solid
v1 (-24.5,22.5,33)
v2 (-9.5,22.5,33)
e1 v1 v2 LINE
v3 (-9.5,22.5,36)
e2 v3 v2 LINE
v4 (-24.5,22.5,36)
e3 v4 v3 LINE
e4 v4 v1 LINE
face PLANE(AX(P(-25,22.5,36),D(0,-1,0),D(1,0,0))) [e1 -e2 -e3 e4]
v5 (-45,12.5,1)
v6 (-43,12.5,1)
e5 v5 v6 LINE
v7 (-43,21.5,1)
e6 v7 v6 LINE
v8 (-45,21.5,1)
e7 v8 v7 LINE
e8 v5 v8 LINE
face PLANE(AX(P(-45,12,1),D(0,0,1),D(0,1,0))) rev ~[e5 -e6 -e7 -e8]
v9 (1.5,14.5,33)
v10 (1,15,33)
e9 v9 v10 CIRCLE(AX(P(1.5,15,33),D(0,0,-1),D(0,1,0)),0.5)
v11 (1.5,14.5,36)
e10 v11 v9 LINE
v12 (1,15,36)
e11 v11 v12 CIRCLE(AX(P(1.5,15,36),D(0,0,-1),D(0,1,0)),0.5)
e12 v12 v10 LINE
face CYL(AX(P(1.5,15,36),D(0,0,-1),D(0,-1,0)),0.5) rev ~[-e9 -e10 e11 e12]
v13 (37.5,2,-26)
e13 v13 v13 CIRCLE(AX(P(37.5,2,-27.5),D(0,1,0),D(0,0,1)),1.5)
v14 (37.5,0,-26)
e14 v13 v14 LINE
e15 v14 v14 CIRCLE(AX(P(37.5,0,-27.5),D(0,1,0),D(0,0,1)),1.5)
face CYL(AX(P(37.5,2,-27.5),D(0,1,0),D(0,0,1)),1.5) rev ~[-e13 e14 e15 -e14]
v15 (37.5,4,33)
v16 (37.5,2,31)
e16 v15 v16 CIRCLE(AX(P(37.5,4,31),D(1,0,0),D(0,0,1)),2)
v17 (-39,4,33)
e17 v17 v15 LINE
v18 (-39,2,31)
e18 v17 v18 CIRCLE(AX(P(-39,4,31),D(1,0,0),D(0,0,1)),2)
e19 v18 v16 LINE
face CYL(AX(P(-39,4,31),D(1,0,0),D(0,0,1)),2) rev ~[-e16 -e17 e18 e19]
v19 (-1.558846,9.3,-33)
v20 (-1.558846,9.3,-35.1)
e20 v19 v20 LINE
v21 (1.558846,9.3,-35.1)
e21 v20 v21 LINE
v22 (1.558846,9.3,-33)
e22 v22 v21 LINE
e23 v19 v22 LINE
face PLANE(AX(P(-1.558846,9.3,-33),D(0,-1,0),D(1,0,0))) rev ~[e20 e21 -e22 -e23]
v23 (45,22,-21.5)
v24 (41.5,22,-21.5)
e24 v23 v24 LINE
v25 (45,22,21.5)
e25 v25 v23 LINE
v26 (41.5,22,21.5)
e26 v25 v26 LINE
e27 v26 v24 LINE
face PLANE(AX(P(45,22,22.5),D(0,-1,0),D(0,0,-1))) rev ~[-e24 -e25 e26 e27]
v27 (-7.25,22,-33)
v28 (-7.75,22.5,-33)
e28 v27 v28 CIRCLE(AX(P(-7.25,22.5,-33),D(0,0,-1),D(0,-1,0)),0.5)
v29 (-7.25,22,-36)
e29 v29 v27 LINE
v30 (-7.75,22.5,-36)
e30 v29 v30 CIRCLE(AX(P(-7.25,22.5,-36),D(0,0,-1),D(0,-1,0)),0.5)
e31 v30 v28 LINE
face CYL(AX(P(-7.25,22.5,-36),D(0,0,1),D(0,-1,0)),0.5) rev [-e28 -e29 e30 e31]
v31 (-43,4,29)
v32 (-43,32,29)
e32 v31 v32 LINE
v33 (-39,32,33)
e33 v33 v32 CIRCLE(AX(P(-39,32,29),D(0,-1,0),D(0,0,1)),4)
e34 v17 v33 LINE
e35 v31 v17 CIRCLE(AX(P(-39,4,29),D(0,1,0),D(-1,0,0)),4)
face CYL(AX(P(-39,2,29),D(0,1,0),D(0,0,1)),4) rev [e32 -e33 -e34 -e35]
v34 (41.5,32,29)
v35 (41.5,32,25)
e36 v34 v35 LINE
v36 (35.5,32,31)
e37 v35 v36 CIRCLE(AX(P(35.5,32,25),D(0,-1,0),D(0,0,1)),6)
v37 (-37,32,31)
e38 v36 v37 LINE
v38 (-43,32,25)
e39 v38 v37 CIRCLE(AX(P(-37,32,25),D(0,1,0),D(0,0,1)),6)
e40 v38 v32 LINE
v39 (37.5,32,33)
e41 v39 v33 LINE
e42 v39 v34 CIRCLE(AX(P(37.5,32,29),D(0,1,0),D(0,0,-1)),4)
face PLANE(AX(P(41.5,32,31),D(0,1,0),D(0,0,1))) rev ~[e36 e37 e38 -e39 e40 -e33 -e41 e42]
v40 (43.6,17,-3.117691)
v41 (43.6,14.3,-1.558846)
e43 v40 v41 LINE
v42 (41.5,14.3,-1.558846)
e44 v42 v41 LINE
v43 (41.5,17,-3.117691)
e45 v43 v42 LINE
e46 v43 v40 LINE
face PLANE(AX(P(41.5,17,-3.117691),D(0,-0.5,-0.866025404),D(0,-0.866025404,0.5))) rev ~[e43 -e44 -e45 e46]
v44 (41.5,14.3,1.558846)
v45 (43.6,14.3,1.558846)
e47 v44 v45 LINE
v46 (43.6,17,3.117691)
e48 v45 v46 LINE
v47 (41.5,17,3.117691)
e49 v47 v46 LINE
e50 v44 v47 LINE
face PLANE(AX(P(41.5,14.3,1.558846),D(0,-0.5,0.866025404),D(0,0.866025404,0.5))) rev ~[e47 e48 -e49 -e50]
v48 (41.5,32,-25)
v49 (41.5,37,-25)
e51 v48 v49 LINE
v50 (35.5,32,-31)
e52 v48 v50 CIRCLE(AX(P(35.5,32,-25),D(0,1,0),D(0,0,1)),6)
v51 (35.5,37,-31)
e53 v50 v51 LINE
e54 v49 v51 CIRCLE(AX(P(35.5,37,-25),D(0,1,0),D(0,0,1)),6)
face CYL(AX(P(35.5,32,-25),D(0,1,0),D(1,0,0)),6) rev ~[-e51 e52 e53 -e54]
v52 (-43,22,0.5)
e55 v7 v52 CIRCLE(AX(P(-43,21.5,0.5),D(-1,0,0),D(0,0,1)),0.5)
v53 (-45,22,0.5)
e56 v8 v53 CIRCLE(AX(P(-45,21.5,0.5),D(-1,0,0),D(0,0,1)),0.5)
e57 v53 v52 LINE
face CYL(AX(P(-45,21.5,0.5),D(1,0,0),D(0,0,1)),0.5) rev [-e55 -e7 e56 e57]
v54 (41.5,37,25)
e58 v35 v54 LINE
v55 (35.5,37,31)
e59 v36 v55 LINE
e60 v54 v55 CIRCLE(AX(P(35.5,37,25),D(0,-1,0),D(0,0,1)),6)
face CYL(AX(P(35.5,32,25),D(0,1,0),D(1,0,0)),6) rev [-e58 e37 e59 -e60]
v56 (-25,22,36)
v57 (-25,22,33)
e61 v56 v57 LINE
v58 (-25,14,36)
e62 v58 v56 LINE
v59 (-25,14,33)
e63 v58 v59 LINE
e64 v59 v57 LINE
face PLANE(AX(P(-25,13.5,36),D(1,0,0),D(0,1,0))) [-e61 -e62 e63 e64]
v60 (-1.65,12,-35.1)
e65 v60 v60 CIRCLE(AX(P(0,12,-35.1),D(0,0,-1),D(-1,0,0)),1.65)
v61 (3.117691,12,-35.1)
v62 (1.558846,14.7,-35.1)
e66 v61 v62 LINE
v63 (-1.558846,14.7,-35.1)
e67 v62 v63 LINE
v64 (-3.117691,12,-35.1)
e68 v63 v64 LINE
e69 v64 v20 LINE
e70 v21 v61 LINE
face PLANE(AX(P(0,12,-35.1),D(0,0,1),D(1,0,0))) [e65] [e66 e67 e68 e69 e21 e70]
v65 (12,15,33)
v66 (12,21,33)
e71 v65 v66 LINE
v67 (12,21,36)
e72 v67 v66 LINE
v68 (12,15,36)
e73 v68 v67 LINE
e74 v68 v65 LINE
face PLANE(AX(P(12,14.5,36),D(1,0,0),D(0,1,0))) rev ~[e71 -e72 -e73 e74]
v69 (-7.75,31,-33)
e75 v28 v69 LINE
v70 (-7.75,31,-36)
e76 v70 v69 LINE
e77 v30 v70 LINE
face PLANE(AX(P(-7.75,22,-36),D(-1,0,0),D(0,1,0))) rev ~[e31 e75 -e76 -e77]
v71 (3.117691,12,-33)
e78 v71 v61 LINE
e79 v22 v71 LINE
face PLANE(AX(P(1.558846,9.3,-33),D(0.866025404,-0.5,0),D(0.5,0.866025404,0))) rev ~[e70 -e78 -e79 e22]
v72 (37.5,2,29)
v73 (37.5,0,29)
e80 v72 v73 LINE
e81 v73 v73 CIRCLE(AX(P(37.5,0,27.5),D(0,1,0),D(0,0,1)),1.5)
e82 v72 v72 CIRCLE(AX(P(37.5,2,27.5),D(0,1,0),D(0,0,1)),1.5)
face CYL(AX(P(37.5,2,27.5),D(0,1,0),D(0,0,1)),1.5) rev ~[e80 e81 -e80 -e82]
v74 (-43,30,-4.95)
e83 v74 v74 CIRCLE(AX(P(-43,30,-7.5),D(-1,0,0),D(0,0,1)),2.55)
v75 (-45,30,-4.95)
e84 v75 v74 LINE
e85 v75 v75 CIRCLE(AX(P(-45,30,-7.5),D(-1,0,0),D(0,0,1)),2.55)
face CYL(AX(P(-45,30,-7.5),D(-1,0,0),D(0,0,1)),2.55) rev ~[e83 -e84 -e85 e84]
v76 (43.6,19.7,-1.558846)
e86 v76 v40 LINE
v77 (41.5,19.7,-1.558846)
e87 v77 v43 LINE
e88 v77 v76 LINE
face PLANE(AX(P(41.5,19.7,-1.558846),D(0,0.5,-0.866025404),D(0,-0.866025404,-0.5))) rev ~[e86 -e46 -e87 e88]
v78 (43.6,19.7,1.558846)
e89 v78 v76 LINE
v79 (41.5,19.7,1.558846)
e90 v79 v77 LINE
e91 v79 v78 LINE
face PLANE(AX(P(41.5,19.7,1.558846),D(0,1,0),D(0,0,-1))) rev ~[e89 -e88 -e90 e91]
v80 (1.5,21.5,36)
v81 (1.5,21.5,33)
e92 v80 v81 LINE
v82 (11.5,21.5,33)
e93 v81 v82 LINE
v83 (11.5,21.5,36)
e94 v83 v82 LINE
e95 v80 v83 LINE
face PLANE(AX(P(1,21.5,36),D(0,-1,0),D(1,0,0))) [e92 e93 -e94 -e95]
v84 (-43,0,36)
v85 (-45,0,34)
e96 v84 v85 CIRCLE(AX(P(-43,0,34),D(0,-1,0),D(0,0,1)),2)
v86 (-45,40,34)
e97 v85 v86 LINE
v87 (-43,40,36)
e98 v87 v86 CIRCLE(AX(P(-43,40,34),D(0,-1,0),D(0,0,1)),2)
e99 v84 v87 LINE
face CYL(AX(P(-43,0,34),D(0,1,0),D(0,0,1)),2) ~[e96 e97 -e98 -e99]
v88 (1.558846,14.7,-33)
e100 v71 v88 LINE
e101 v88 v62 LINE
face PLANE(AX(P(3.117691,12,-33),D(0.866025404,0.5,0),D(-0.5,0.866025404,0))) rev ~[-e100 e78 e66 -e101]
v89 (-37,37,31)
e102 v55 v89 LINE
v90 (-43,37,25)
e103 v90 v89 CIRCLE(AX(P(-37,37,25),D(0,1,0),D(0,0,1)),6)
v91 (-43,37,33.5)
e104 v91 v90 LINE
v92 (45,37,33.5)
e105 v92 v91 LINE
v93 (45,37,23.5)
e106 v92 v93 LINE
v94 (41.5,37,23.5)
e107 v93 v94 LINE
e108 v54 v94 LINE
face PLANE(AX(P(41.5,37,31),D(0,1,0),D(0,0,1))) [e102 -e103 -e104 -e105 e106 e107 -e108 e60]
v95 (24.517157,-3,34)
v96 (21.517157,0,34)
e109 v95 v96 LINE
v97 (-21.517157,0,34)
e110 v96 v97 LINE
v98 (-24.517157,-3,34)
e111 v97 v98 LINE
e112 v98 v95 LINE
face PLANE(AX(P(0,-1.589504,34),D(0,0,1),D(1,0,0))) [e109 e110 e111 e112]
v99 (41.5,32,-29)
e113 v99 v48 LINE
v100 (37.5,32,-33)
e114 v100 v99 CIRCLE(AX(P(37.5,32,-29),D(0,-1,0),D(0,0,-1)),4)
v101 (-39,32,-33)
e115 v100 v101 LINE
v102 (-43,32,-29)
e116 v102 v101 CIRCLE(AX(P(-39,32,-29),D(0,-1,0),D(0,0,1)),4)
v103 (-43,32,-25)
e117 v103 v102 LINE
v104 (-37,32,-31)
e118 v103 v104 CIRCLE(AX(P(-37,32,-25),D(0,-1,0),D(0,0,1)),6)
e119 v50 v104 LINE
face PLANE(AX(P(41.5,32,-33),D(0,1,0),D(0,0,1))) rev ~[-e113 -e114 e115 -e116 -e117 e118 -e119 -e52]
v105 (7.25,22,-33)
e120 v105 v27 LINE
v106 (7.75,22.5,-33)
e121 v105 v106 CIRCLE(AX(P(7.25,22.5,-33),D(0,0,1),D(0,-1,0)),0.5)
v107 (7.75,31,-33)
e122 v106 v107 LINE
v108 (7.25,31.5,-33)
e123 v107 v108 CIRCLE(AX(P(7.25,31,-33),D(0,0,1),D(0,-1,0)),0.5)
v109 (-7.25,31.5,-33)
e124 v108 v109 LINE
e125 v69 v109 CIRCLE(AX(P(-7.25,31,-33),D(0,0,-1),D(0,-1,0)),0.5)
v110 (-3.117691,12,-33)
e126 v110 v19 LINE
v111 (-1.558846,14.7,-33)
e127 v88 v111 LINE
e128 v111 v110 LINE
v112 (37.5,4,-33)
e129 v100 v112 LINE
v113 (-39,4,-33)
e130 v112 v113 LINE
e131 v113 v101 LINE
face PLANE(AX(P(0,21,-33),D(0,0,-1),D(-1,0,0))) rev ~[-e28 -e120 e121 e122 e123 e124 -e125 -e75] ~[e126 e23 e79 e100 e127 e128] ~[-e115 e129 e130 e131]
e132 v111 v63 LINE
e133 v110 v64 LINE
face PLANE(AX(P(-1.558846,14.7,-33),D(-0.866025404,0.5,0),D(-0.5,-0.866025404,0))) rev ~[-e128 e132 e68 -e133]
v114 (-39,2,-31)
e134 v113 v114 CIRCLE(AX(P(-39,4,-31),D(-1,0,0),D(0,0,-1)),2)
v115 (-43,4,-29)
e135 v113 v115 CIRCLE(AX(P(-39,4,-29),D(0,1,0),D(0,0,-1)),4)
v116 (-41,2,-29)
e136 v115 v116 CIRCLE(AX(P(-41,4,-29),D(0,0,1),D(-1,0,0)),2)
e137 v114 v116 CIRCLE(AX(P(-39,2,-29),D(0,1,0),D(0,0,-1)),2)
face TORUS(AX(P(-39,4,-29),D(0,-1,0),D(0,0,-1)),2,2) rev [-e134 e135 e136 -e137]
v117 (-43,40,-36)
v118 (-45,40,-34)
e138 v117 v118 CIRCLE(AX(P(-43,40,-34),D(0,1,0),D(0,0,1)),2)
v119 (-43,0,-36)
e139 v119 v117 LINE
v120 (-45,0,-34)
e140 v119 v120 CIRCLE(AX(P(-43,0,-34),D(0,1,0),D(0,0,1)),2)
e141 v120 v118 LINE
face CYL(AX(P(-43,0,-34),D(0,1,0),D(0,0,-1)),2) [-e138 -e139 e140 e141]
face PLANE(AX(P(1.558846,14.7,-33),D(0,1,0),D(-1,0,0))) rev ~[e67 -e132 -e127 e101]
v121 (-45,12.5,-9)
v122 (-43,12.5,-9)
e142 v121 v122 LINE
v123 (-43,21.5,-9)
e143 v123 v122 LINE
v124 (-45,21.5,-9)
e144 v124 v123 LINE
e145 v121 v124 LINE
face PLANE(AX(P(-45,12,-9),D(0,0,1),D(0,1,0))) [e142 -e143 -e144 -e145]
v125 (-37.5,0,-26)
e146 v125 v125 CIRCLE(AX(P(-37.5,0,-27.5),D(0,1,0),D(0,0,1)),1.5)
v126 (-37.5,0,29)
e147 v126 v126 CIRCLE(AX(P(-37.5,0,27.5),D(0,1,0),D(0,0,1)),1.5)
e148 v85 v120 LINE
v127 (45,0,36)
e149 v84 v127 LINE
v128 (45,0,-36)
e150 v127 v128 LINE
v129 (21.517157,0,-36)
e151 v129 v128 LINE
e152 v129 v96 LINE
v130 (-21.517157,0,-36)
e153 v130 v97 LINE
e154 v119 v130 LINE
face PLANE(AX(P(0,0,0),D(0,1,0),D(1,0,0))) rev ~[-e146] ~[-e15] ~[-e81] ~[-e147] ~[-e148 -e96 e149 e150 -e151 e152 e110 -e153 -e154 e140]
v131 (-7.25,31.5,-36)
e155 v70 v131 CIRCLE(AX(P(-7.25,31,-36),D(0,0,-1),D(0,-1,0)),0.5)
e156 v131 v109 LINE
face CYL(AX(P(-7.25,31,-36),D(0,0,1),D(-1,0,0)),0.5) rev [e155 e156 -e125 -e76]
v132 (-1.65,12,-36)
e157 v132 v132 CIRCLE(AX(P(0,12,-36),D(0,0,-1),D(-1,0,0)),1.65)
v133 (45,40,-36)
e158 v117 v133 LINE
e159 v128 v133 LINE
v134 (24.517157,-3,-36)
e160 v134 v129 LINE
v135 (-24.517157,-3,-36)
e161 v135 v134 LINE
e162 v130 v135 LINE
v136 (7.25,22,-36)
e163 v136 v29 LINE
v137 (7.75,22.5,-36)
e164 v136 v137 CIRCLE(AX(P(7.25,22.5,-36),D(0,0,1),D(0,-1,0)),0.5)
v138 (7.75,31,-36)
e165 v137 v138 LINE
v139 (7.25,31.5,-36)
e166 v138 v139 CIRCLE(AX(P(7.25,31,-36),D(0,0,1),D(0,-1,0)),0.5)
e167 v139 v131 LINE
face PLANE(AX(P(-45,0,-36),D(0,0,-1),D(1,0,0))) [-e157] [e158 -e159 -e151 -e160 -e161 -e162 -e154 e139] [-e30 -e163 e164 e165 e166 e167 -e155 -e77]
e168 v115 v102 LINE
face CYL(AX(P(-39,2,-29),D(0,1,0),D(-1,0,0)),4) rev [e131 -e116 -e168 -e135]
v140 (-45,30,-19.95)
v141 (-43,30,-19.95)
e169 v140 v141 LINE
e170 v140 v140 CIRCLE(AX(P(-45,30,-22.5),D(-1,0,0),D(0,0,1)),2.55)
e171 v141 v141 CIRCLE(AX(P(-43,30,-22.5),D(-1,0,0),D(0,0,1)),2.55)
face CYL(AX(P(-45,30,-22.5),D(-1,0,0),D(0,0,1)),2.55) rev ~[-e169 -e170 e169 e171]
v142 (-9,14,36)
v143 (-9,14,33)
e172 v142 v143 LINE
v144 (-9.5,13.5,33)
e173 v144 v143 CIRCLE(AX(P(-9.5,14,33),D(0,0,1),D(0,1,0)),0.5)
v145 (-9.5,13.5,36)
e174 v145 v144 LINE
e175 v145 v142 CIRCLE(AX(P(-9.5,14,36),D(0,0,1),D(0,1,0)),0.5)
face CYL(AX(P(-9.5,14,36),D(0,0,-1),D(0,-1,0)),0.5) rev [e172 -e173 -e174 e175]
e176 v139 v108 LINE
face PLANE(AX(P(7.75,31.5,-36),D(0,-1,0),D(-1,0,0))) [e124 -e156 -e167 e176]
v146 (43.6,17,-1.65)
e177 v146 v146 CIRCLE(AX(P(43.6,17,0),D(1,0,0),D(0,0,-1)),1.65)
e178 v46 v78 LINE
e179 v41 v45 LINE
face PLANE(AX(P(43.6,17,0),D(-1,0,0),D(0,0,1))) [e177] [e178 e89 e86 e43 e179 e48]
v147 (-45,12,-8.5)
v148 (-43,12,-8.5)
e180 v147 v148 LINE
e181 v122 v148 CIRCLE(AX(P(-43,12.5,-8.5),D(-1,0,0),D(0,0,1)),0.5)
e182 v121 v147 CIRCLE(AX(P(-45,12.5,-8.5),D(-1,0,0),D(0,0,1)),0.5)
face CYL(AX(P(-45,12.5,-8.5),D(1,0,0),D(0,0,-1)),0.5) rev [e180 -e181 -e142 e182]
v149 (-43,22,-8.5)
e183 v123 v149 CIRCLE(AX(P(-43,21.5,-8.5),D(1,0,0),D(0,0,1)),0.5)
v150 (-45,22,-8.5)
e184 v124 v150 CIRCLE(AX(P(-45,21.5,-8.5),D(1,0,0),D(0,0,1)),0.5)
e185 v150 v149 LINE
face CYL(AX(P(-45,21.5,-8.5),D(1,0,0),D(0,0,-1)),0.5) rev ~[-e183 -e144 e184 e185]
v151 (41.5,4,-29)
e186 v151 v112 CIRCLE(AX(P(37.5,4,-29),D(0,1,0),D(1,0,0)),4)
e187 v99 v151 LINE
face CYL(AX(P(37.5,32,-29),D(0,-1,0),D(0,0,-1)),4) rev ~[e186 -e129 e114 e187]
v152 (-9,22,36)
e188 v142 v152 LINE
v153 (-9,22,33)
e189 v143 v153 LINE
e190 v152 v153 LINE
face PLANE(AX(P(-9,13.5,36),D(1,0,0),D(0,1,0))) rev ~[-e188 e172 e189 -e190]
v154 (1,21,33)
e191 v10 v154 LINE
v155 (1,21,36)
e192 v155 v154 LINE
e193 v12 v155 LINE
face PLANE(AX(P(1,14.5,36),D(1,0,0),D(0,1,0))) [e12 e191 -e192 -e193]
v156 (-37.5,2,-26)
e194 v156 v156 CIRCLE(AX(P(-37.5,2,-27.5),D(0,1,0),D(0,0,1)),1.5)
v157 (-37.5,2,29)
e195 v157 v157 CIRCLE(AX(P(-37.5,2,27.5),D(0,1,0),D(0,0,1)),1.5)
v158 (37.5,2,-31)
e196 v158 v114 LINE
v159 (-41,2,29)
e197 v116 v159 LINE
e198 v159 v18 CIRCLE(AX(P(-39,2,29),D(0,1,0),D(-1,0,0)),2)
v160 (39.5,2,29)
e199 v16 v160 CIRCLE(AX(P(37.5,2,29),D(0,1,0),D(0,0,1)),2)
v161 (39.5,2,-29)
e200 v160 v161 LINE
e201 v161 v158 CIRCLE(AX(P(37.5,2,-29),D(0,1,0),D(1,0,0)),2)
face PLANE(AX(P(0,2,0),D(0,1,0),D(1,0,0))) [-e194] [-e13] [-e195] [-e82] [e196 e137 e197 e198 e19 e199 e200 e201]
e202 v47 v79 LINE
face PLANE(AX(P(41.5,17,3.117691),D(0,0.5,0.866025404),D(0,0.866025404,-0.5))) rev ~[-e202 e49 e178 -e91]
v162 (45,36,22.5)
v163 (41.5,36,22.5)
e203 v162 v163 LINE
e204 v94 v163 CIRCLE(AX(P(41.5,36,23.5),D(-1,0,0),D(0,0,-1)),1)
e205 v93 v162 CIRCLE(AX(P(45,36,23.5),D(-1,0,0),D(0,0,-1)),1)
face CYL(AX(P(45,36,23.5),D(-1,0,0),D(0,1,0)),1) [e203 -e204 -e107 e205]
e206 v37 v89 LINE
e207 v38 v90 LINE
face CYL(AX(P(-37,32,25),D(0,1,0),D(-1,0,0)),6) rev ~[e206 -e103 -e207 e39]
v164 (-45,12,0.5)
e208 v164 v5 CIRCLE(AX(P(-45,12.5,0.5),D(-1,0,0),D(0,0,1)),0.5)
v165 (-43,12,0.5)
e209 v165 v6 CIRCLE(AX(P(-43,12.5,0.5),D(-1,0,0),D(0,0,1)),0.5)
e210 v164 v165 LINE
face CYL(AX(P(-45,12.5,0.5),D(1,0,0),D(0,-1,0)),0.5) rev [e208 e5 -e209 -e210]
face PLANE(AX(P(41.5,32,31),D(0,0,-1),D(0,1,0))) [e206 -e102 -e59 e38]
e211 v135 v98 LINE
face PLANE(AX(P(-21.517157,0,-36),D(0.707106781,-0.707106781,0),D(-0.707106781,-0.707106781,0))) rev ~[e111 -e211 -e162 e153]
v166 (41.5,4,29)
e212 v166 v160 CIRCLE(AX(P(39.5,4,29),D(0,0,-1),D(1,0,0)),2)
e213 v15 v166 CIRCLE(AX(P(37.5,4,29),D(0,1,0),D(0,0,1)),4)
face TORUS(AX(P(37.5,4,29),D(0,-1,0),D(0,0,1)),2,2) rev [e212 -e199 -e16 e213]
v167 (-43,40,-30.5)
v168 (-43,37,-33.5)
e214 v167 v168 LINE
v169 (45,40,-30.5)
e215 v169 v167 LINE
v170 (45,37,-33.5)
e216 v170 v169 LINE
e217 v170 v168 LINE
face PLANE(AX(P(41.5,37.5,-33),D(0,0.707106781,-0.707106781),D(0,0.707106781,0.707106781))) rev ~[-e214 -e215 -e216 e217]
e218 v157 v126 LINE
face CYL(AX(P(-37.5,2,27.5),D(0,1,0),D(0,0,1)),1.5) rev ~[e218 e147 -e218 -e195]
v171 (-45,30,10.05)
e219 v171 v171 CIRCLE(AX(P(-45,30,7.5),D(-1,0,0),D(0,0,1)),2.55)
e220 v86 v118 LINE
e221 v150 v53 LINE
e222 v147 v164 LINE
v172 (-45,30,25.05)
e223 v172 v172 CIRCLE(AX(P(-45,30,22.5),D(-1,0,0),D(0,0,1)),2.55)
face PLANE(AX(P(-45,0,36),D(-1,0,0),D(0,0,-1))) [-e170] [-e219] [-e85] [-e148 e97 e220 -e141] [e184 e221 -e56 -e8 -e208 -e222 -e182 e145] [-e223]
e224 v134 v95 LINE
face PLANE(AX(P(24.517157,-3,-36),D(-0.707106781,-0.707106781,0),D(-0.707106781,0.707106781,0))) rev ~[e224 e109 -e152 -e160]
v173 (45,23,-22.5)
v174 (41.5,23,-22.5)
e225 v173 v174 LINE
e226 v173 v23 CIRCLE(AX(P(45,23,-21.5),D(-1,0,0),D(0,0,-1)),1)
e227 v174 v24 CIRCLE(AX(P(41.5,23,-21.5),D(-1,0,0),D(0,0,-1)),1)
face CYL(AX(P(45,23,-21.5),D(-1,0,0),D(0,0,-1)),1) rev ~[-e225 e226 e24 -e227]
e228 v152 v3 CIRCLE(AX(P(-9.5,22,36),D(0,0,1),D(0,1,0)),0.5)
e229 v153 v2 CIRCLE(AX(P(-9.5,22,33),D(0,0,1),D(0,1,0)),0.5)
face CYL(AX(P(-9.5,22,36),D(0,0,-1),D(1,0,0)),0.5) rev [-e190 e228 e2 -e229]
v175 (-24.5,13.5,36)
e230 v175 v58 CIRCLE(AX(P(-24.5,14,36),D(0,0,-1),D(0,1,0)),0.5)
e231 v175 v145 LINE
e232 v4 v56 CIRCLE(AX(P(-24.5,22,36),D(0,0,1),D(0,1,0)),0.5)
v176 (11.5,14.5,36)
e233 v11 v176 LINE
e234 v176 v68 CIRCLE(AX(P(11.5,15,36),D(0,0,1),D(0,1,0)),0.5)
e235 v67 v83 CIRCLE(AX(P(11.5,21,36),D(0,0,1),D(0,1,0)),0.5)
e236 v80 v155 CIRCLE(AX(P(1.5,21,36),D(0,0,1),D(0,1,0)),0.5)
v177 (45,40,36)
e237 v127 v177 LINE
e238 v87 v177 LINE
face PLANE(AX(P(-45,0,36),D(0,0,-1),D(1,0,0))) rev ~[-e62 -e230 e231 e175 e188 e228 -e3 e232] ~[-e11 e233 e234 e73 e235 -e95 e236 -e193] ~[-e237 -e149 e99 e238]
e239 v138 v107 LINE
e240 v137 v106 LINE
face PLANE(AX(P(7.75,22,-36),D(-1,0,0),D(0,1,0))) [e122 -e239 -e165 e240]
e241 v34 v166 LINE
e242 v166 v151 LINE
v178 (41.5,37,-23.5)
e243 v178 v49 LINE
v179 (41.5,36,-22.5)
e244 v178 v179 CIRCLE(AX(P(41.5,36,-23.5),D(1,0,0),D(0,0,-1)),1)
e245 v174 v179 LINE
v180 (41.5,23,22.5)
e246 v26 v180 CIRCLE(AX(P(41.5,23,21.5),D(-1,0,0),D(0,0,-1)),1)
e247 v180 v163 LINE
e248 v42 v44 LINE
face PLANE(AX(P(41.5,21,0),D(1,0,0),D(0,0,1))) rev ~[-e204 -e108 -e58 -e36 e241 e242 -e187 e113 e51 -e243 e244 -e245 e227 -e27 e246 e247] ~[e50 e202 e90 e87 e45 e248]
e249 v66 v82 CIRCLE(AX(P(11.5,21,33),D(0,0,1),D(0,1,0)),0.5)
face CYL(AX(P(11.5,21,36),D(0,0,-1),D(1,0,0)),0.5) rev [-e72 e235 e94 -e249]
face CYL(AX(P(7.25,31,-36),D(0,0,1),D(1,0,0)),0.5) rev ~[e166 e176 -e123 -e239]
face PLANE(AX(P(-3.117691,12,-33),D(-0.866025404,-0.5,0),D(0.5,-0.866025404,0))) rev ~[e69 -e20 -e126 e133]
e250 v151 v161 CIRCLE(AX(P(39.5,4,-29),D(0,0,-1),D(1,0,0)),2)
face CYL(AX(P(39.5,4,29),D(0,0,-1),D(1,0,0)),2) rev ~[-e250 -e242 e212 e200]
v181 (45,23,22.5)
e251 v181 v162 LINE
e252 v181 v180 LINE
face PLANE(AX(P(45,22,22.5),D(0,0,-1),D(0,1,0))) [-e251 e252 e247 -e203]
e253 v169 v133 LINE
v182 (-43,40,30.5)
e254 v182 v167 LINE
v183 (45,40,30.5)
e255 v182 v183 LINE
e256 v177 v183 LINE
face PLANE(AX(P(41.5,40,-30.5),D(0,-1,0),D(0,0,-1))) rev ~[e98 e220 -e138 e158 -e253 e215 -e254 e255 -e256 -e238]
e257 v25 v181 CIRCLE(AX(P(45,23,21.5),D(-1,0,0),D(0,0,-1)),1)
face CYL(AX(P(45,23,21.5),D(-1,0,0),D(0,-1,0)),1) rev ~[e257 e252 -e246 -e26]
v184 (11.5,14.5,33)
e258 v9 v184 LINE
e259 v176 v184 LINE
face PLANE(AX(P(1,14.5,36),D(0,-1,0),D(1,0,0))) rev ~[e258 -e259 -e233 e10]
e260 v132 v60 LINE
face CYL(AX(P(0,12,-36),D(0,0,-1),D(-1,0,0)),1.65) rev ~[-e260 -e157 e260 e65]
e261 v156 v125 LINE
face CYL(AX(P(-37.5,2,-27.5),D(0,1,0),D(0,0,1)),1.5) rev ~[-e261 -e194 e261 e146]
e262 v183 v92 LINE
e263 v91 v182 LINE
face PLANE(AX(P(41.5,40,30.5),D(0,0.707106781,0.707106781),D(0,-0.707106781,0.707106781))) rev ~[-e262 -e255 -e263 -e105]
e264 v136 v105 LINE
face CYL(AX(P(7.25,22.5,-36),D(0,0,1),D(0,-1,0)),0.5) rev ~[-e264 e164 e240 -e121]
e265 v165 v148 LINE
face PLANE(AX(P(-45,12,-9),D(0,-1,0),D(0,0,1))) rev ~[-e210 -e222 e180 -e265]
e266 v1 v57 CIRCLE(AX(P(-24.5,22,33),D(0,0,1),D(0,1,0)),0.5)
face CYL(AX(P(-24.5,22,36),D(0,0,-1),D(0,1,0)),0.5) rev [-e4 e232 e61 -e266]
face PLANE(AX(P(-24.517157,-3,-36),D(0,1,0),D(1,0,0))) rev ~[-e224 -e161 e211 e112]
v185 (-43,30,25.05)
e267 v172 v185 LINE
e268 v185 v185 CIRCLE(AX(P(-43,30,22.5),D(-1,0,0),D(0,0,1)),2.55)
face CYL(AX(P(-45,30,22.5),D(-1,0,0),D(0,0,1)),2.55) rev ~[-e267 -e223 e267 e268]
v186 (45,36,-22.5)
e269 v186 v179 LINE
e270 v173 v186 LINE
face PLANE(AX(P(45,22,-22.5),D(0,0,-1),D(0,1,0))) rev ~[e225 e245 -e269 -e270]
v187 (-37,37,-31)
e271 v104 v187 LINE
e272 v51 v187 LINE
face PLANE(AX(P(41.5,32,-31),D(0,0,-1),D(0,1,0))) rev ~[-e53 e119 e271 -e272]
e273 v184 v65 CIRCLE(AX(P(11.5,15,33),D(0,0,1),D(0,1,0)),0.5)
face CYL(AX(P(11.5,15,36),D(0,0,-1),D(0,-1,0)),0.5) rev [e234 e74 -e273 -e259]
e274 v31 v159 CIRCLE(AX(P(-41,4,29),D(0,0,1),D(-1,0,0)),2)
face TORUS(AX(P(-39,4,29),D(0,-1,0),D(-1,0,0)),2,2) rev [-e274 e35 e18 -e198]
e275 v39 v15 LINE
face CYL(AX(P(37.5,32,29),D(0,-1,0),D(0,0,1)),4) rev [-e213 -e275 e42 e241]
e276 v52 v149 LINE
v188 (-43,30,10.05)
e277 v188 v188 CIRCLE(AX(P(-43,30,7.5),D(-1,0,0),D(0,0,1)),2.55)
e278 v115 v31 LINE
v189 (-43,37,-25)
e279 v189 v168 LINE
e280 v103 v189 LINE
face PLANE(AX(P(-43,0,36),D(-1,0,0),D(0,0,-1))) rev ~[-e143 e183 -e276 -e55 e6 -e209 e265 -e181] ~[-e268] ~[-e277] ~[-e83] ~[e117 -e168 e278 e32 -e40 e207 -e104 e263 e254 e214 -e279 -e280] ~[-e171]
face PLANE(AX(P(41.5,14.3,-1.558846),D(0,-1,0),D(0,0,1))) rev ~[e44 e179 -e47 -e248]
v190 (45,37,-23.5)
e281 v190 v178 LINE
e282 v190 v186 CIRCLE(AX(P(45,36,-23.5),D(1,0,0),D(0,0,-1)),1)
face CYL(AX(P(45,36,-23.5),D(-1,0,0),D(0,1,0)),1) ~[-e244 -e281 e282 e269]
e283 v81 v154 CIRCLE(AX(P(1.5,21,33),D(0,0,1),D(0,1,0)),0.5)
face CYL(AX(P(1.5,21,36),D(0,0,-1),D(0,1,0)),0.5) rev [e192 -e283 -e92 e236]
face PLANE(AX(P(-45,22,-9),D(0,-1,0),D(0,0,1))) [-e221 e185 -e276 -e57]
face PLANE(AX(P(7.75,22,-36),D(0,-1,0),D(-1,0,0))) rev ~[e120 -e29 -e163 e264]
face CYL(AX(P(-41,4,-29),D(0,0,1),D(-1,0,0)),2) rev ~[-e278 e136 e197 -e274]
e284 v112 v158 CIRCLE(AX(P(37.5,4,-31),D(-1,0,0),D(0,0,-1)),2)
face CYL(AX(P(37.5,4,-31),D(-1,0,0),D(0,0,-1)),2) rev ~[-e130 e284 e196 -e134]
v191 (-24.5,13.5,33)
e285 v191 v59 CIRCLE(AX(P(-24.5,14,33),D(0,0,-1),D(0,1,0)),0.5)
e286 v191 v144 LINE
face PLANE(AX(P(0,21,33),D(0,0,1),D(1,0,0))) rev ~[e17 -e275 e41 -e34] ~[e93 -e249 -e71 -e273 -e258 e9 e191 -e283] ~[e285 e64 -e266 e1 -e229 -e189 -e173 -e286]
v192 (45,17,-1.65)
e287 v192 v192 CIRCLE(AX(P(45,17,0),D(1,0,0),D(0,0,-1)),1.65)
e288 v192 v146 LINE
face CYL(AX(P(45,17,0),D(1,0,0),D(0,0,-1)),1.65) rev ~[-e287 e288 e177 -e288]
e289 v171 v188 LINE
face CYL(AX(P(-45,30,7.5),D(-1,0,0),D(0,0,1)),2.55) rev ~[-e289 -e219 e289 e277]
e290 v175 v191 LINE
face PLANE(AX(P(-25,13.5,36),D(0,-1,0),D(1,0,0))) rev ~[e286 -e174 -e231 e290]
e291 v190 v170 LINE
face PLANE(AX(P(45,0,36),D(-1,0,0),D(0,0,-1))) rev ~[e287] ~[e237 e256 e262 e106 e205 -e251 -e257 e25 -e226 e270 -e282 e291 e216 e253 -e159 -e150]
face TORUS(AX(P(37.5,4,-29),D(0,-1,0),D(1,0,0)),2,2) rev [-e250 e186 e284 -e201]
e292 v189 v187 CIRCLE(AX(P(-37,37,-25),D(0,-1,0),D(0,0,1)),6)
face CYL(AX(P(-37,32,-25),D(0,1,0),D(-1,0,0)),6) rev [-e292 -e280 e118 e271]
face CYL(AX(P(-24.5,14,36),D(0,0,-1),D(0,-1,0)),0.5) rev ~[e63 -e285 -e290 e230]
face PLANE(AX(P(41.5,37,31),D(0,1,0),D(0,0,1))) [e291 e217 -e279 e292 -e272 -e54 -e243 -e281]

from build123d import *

# Parameters (mm, degrees)
SKETCH1_W                 = 90
SKETCH1_H                 = 72
BOSS_EXTRUDE1_DEPTH       = 40
SHELL1_T                  = -2
SHELL1_THICKNESS_2_FACE_W = 86
SHELL1_THICKNESS_2_FACE_H = 38
SHELL1_THICKNESS_2_DEPTH  = 1
SHELL1_THICKNESS_3_FACE_W = 86
SHELL1_THICKNESS_3_FACE_H = 38
SHELL1_THICKNESS_3_DEPTH  = 1
SHELL1_THICKNESS_4_FACE_W = 66
SHELL1_THICKNESS_4_FACE_H = 38
SHELL1_THICKNESS_4_DEPTH  = 1.5
SKETCH2_R                 = 1.5
CUT_EXTRUDE1_DEPTH        = 2
CUT_EXTRUDE2_DEPTH        = 88
BOSS_EXTRUDE2_REACH       = 103.874
SKETCH4_W                 = 2
SKETCH4_H                 = 5
SKETCH5_R                 = 1.65
SKETCH5_W                 = 45
SKETCH5_H                 = 15
CUT_EXTRUDE3_DEPTH        = 3.5
CUT_EXTRUDE4_DEPTH        = 2.1
CUT_EXTRUDE5_REACH        = 106.862
SKETCH7_R                 = 2.55
SKETCH7_W                 = 10
SKETCH7_H                 = 10
SKETCH8_W                 = 16
SKETCH8_H                 = 9
SKETCH8_W_2               = 11
SKETCH8_H_2               = 7
CUT_EXTRUDE6_DEPTH        = 3
BOSS_EXTRUDE3_DEPTH       = 70
SKETCH10_R                = 1.65
SKETCH10_W                = 15.5
SKETCH10_H                = 9.5
CUT_EXTRUDE7_DEPTH        = 3
CUT_EXTRUDE8_DEPTH        = 2.1
FILLET3_R                 = 1
FILLET4_R                 = 0.5
FILLET5_R                 = 0.5
FILLET6_R                 = 0.5
FILLET7_R                 = 6
FILLET8_R                 = 4
FILLET9_R                 = 2
FILLET10_R                = 2


with BuildPart() as part:
    # Sketch1 → Boss-Extrude1 (new body)
    with BuildSketch(Plane(origin=(0, 0, 0), x_dir=(1, 0, 0), z_dir=(0, 1, 0))):
        Rectangle(SKETCH1_W, SKETCH1_H)
    extrude(amount=BOSS_EXTRUDE1_DEPTH)

    # Shell1
    shell1_openings = [part.faces().sort_by_distance(p)[0] for p in [
        (0, 40, 0),
    ]]
    offset(amount=SHELL1_T, openings=shell1_openings, kind=Kind.INTERSECTION)

    # Shell1 thickness 2 face (on inner face of the shell) → Shell1 thickness 2 (add)
    with BuildSketch(Plane(origin=(0, 21, 34), x_dir=(1, 0, 0), z_dir=(0, 0, 1))):
        Rectangle(SHELL1_THICKNESS_2_FACE_W, SHELL1_THICKNESS_2_FACE_H)
    extrude(amount=-SHELL1_THICKNESS_2_DEPTH)

    # Shell1 thickness 3 face (on inner face of the shell) → Shell1 thickness 3 (add)
    with BuildSketch(Plane(origin=(0, 21, -34), x_dir=(-1, 0, 0), z_dir=(0, 0, -1))):
        Rectangle(SHELL1_THICKNESS_3_FACE_W, SHELL1_THICKNESS_3_FACE_H)
    extrude(amount=-SHELL1_THICKNESS_3_DEPTH)

    # Shell1 thickness 4 face (on inner face of the shell) → Shell1 thickness 4 (add)
    with BuildSketch(Plane(origin=(43, 21, 0), x_dir=(0, 0, 1), z_dir=(1, 0, 0))):
        Rectangle(SHELL1_THICKNESS_4_FACE_W, SHELL1_THICKNESS_4_FACE_H)
    extrude(amount=-SHELL1_THICKNESS_4_DEPTH)

    # Sketch2 → Cut-Extrude1 (cut)
    with BuildSketch(Plane(origin=(0, 2, 0), x_dir=(1, 0, 0), z_dir=(0, 1, 0))):
        with Locations(Location((37.5, 27.5, 0), (0, 0, 270))):
            Circle(SKETCH2_R)
        with Locations(Location((-37.5, 27.5, 0), (0, 0, 270))):
            Circle(SKETCH2_R)
        with Locations(Location((-37.5, -27.5, 0), (0, 0, 270))):
            Circle(SKETCH2_R)
        with Locations(Location((37.5, -27.5, 0), (0, 0, 270))):
            Circle(SKETCH2_R)
    extrude(amount=-CUT_EXTRUDE1_DEPTH, mode=Mode.SUBTRACT)

    # Sketch3 → Cut-Extrude2 (cut)
    with BuildSketch(Plane(origin=(45, 0, 0), x_dir=(0, 0, -1), z_dir=(1, 0, 0))):
        Polygon((-30.5, 40), (-33.5, 37), (33.5, 37), (30.5, 40), align=None)
    extrude(amount=-CUT_EXTRUDE2_DEPTH, mode=Mode.SUBTRACT)

    # Sketch4 → Boss-Extrude2 (add, up to next)
    with BuildSketch(Plane.ZY.offset(-41.5), mode=Mode.PRIVATE) as boss_extrude2_sk1:
        Polygon((30.5, 40), (33, 37.5), (33, 40), align=None)
    boss_extrude2_tool1 = extrude(boss_extrude2_sk1.sketch, amount=BOSS_EXTRUDE2_REACH, mode=Mode.PRIVATE) - part.part
    # Sketch4 → Boss-Extrude2 (add, up to next)
    with BuildSketch(Plane.ZY.offset(-41.5), mode=Mode.PRIVATE) as boss_extrude2_sk2:
        Polygon((-33, 37.5), (-30.5, 40), (-33, 40), align=None)
    boss_extrude2_tool2 = extrude(boss_extrude2_sk2.sketch, amount=BOSS_EXTRUDE2_REACH, mode=Mode.PRIVATE) - part.part
    # Sketch4 → Boss-Extrude2 (add, up to next)
    with BuildSketch(Plane.ZY.offset(-41.5), mode=Mode.PRIVATE) as boss_extrude2_sk3:
        with Locations((-32, 34.5)):
            Rectangle(SKETCH4_W, SKETCH4_H)
    boss_extrude2_tool3 = extrude(boss_extrude2_sk3.sketch, amount=BOSS_EXTRUDE2_REACH, mode=Mode.PRIVATE) - part.part
    # Sketch4 → Boss-Extrude2 (add, up to next)
    with BuildSketch(Plane.ZY.offset(-41.5), mode=Mode.PRIVATE) as boss_extrude2_sk4:
        with Locations((32, 34.5)):
            Rectangle(SKETCH4_W, SKETCH4_H)
    boss_extrude2_tool4 = extrude(boss_extrude2_sk4.sketch, amount=BOSS_EXTRUDE2_REACH, mode=Mode.PRIVATE) - part.part
    add(boss_extrude2_tool1.solids().sort_by_distance((41.5, 39.166667, 32.166667))[0])
    add(boss_extrude2_tool2.solids().sort_by_distance((41.5, 39.166667, -32.166667))[0])
    add(boss_extrude2_tool3.solids().sort_by_distance((41.5, 34.5, -32))[0])
    add(boss_extrude2_tool4.solids().sort_by_distance((41.5, 34.5, 32))[0])

    # Sketch5 → Cut-Extrude3 (cut)
    with BuildSketch(Plane(origin=(45, 0, 0), x_dir=(0, 0, -1), z_dir=(1, 0, 0))):
        with Locations((0, 17)):
            Circle(SKETCH5_R)
        with Locations((0, 29.5)):
            Rectangle(SKETCH5_W, SKETCH5_H)
    extrude(amount=-CUT_EXTRUDE3_DEPTH, mode=Mode.SUBTRACT)

    # Sketch6 → Cut-Extrude4 (cut)
    with BuildSketch(Plane.ZY.offset(-41.5)):
        Polygon((3.117691454, 17), (1.558845727, 19.7), (-1.558845727, 19.7), (-3.117691454, 17), (-1.558845727, 14.3), (1.558845727, 14.3), align=None)
    extrude(amount=-CUT_EXTRUDE4_DEPTH, mode=Mode.SUBTRACT)

    # Sketch7 → Cut-Extrude5 (cut, up to next)
    with BuildSketch(Plane.ZY.offset(45), mode=Mode.PRIVATE) as cut_extrude5_sk1:
        with Locations((-22.5, 30)):
            Circle(SKETCH7_R)
    cut_extrude5_tool1 = extrude(cut_extrude5_sk1.sketch, amount=-CUT_EXTRUDE5_REACH, mode=Mode.PRIVATE) & part.part
    # Sketch7 → Cut-Extrude5 (cut, up to next)
    with BuildSketch(Plane.ZY.offset(45), mode=Mode.PRIVATE) as cut_extrude5_sk2:
        with Locations((-7.5, 30)):
            Circle(SKETCH7_R)
    cut_extrude5_tool2 = extrude(cut_extrude5_sk2.sketch, amount=-CUT_EXTRUDE5_REACH, mode=Mode.PRIVATE) & part.part
    # Sketch7 → Cut-Extrude5 (cut, up to next)
    with BuildSketch(Plane.ZY.offset(45), mode=Mode.PRIVATE) as cut_extrude5_sk3:
        with Locations((7.5, 30)):
            Circle(SKETCH7_R)
    cut_extrude5_tool3 = extrude(cut_extrude5_sk3.sketch, amount=-CUT_EXTRUDE5_REACH, mode=Mode.PRIVATE) & part.part
    # Sketch7 → Cut-Extrude5 (cut, up to next)
    with BuildSketch(Plane.ZY.offset(45), mode=Mode.PRIVATE) as cut_extrude5_sk4:
        with Locations((22.5, 30)):
            Circle(SKETCH7_R)
    cut_extrude5_tool4 = extrude(cut_extrude5_sk4.sketch, amount=-CUT_EXTRUDE5_REACH, mode=Mode.PRIVATE) & part.part
    # Sketch7 → Cut-Extrude5 (cut, up to next)
    with BuildSketch(Plane.ZY.offset(45), mode=Mode.PRIVATE) as cut_extrude5_sk5:
        with Locations((-4, 17)):
            Rectangle(SKETCH7_W, SKETCH7_H)
    cut_extrude5_tool5 = extrude(cut_extrude5_sk5.sketch, amount=-CUT_EXTRUDE5_REACH, mode=Mode.PRIVATE) & part.part
    add(cut_extrude5_tool1.solids().sort_by_distance((-45, 30, -22.5))[0], mode=Mode.SUBTRACT)
    add(cut_extrude5_tool2.solids().sort_by_distance((-45, 30, -7.5))[0], mode=Mode.SUBTRACT)
    add(cut_extrude5_tool3.solids().sort_by_distance((-45, 30, 7.5))[0], mode=Mode.SUBTRACT)
    add(cut_extrude5_tool4.solids().sort_by_distance((-45, 30, 22.5))[0], mode=Mode.SUBTRACT)
    add(cut_extrude5_tool5.solids().sort_by_distance((-45, 17, -4))[0], mode=Mode.SUBTRACT)

    # Sketch8 → Cut-Extrude6 (cut)
    with BuildSketch(Plane.XY.offset(36)):
        with Locations((-17, 18)):
            Rectangle(SKETCH8_W, SKETCH8_H)
        with Locations((6.5, 18)):
            Rectangle(SKETCH8_W_2, SKETCH8_H_2)
    extrude(amount=-CUT_EXTRUDE6_DEPTH, mode=Mode.SUBTRACT)

    # Sketch9 → Boss-Extrude3 (add)
    with BuildSketch(Plane.XY.offset(-36)):
        Polygon((21.517157288, 0), (-21.517157288, 0), (-24.517157288, -3), (24.517157288, -3), align=None)
    extrude(amount=BOSS_EXTRUDE3_DEPTH)

    # Sketch10 → Cut-Extrude7 (cut)
    with BuildSketch(Plane(origin=(0, 0, -36), x_dir=(-1, 0, 0), z_dir=(0, 0, -1))):
        with Locations((0, 12)):
            Circle(SKETCH10_R)
        with Locations((0, 26.75)):
            Rectangle(SKETCH10_W, SKETCH10_H)
    extrude(amount=-CUT_EXTRUDE7_DEPTH, mode=Mode.SUBTRACT)

    # Sketch11 → Cut-Extrude8 (cut)
    with BuildSketch(Plane.XY.offset(-33)):
        Polygon((1.558845727, 14.7), (-1.558845727, 14.7), (-3.117691454, 12), (-1.558845727, 9.3), (1.558845727, 9.3), (3.117691454, 12), align=None)
    extrude(amount=-CUT_EXTRUDE8_DEPTH, mode=Mode.SUBTRACT)

    # Fillet3
    fillet3_edges = [part.edges().sort_by_distance(p)[0] for p in [
        (43.25, 37, 22.5),
        (43.25, 22, 22.5),
        (43.25, 22, -22.5),
        (43.25, 37, -22.5),
    ]]
    fillet(fillet3_edges, radius=FILLET3_R)

    # Fillet4
    fillet4_edges = [part.edges().sort_by_distance(p)[0] for p in [
        (-44, 22, -9),
        (-44, 12, -9),
        (-44, 12, 1),
        (-44, 22, 1),
    ]]
    fillet(fillet4_edges, radius=FILLET4_R)

    # Fillet5
    fillet5_edges = [part.edges().sort_by_distance(p)[0] for p in [
        (-25, 22.5, 34.5),
        (-25, 13.5, 34.5),
        (-9, 13.5, 34.5),
        (-9, 22.5, 34.5),
        (1, 21.5, 34.5),
        (1, 14.5, 34.5),
        (12, 14.5, 34.5),
        (12, 21.5, 34.5),
    ]]
    fillet(fillet5_edges, radius=FILLET5_R)

    # Fillet6
    fillet6_edges = [part.edges().sort_by_distance(p)[0] for p in [
        (7.75, 31.5, -34.5),
        (7.75, 22, -34.5),
        (-7.75, 22, -34.5),
        (-7.75, 31.5, -34.5),
    ]]
    fillet(fillet6_edges, radius=FILLET6_R)

    # Fillet7
    fillet7_edges = [part.edges().sort_by_distance(p)[0] for p in [
        (-43, 34.5, 31),
        (41.5, 34.5, 31),
        (-43, 34.5, -31),
        (41.5, 34.5, -31),
    ]]
    fillet(fillet7_edges, radius=FILLET7_R)

    # Fillet8
    fillet8_edges = [part.edges().sort_by_distance(p)[0] for p in [
        (41.5, 17, 33),
        (-43, 17, 33),
        (-43, 17, -33),
        (41.5, 17, -33),
    ]]
    fillet(fillet8_edges, radius=FILLET8_R)

    # Fillet9
    fillet9_edges = [part.edges().sort_by_distance(p)[0] for p in [
        (-0.75, 2, -33),
        (-43, 2, 0),
        (-0.75, 2, 33),
        (41.5, 2, 0),
        (-41.828427125, 2, 31.828427125),
        (40.328427125, 2, 31.828427125),
        (40.328427125, 2, -31.828427125),
        (-41.828427125, 2, -31.828427125),
    ]]
    fillet(fillet9_edges, radius=FILLET9_R)

    # Fillet10
    fillet10_edges = [part.edges().sort_by_distance(p)[0] for p in [
        (-45, 20, -36),
        (-45, 20, 36),
    ]]
    fillet(fillet10_edges, radius=FILLET10_R)


solid = part.part
